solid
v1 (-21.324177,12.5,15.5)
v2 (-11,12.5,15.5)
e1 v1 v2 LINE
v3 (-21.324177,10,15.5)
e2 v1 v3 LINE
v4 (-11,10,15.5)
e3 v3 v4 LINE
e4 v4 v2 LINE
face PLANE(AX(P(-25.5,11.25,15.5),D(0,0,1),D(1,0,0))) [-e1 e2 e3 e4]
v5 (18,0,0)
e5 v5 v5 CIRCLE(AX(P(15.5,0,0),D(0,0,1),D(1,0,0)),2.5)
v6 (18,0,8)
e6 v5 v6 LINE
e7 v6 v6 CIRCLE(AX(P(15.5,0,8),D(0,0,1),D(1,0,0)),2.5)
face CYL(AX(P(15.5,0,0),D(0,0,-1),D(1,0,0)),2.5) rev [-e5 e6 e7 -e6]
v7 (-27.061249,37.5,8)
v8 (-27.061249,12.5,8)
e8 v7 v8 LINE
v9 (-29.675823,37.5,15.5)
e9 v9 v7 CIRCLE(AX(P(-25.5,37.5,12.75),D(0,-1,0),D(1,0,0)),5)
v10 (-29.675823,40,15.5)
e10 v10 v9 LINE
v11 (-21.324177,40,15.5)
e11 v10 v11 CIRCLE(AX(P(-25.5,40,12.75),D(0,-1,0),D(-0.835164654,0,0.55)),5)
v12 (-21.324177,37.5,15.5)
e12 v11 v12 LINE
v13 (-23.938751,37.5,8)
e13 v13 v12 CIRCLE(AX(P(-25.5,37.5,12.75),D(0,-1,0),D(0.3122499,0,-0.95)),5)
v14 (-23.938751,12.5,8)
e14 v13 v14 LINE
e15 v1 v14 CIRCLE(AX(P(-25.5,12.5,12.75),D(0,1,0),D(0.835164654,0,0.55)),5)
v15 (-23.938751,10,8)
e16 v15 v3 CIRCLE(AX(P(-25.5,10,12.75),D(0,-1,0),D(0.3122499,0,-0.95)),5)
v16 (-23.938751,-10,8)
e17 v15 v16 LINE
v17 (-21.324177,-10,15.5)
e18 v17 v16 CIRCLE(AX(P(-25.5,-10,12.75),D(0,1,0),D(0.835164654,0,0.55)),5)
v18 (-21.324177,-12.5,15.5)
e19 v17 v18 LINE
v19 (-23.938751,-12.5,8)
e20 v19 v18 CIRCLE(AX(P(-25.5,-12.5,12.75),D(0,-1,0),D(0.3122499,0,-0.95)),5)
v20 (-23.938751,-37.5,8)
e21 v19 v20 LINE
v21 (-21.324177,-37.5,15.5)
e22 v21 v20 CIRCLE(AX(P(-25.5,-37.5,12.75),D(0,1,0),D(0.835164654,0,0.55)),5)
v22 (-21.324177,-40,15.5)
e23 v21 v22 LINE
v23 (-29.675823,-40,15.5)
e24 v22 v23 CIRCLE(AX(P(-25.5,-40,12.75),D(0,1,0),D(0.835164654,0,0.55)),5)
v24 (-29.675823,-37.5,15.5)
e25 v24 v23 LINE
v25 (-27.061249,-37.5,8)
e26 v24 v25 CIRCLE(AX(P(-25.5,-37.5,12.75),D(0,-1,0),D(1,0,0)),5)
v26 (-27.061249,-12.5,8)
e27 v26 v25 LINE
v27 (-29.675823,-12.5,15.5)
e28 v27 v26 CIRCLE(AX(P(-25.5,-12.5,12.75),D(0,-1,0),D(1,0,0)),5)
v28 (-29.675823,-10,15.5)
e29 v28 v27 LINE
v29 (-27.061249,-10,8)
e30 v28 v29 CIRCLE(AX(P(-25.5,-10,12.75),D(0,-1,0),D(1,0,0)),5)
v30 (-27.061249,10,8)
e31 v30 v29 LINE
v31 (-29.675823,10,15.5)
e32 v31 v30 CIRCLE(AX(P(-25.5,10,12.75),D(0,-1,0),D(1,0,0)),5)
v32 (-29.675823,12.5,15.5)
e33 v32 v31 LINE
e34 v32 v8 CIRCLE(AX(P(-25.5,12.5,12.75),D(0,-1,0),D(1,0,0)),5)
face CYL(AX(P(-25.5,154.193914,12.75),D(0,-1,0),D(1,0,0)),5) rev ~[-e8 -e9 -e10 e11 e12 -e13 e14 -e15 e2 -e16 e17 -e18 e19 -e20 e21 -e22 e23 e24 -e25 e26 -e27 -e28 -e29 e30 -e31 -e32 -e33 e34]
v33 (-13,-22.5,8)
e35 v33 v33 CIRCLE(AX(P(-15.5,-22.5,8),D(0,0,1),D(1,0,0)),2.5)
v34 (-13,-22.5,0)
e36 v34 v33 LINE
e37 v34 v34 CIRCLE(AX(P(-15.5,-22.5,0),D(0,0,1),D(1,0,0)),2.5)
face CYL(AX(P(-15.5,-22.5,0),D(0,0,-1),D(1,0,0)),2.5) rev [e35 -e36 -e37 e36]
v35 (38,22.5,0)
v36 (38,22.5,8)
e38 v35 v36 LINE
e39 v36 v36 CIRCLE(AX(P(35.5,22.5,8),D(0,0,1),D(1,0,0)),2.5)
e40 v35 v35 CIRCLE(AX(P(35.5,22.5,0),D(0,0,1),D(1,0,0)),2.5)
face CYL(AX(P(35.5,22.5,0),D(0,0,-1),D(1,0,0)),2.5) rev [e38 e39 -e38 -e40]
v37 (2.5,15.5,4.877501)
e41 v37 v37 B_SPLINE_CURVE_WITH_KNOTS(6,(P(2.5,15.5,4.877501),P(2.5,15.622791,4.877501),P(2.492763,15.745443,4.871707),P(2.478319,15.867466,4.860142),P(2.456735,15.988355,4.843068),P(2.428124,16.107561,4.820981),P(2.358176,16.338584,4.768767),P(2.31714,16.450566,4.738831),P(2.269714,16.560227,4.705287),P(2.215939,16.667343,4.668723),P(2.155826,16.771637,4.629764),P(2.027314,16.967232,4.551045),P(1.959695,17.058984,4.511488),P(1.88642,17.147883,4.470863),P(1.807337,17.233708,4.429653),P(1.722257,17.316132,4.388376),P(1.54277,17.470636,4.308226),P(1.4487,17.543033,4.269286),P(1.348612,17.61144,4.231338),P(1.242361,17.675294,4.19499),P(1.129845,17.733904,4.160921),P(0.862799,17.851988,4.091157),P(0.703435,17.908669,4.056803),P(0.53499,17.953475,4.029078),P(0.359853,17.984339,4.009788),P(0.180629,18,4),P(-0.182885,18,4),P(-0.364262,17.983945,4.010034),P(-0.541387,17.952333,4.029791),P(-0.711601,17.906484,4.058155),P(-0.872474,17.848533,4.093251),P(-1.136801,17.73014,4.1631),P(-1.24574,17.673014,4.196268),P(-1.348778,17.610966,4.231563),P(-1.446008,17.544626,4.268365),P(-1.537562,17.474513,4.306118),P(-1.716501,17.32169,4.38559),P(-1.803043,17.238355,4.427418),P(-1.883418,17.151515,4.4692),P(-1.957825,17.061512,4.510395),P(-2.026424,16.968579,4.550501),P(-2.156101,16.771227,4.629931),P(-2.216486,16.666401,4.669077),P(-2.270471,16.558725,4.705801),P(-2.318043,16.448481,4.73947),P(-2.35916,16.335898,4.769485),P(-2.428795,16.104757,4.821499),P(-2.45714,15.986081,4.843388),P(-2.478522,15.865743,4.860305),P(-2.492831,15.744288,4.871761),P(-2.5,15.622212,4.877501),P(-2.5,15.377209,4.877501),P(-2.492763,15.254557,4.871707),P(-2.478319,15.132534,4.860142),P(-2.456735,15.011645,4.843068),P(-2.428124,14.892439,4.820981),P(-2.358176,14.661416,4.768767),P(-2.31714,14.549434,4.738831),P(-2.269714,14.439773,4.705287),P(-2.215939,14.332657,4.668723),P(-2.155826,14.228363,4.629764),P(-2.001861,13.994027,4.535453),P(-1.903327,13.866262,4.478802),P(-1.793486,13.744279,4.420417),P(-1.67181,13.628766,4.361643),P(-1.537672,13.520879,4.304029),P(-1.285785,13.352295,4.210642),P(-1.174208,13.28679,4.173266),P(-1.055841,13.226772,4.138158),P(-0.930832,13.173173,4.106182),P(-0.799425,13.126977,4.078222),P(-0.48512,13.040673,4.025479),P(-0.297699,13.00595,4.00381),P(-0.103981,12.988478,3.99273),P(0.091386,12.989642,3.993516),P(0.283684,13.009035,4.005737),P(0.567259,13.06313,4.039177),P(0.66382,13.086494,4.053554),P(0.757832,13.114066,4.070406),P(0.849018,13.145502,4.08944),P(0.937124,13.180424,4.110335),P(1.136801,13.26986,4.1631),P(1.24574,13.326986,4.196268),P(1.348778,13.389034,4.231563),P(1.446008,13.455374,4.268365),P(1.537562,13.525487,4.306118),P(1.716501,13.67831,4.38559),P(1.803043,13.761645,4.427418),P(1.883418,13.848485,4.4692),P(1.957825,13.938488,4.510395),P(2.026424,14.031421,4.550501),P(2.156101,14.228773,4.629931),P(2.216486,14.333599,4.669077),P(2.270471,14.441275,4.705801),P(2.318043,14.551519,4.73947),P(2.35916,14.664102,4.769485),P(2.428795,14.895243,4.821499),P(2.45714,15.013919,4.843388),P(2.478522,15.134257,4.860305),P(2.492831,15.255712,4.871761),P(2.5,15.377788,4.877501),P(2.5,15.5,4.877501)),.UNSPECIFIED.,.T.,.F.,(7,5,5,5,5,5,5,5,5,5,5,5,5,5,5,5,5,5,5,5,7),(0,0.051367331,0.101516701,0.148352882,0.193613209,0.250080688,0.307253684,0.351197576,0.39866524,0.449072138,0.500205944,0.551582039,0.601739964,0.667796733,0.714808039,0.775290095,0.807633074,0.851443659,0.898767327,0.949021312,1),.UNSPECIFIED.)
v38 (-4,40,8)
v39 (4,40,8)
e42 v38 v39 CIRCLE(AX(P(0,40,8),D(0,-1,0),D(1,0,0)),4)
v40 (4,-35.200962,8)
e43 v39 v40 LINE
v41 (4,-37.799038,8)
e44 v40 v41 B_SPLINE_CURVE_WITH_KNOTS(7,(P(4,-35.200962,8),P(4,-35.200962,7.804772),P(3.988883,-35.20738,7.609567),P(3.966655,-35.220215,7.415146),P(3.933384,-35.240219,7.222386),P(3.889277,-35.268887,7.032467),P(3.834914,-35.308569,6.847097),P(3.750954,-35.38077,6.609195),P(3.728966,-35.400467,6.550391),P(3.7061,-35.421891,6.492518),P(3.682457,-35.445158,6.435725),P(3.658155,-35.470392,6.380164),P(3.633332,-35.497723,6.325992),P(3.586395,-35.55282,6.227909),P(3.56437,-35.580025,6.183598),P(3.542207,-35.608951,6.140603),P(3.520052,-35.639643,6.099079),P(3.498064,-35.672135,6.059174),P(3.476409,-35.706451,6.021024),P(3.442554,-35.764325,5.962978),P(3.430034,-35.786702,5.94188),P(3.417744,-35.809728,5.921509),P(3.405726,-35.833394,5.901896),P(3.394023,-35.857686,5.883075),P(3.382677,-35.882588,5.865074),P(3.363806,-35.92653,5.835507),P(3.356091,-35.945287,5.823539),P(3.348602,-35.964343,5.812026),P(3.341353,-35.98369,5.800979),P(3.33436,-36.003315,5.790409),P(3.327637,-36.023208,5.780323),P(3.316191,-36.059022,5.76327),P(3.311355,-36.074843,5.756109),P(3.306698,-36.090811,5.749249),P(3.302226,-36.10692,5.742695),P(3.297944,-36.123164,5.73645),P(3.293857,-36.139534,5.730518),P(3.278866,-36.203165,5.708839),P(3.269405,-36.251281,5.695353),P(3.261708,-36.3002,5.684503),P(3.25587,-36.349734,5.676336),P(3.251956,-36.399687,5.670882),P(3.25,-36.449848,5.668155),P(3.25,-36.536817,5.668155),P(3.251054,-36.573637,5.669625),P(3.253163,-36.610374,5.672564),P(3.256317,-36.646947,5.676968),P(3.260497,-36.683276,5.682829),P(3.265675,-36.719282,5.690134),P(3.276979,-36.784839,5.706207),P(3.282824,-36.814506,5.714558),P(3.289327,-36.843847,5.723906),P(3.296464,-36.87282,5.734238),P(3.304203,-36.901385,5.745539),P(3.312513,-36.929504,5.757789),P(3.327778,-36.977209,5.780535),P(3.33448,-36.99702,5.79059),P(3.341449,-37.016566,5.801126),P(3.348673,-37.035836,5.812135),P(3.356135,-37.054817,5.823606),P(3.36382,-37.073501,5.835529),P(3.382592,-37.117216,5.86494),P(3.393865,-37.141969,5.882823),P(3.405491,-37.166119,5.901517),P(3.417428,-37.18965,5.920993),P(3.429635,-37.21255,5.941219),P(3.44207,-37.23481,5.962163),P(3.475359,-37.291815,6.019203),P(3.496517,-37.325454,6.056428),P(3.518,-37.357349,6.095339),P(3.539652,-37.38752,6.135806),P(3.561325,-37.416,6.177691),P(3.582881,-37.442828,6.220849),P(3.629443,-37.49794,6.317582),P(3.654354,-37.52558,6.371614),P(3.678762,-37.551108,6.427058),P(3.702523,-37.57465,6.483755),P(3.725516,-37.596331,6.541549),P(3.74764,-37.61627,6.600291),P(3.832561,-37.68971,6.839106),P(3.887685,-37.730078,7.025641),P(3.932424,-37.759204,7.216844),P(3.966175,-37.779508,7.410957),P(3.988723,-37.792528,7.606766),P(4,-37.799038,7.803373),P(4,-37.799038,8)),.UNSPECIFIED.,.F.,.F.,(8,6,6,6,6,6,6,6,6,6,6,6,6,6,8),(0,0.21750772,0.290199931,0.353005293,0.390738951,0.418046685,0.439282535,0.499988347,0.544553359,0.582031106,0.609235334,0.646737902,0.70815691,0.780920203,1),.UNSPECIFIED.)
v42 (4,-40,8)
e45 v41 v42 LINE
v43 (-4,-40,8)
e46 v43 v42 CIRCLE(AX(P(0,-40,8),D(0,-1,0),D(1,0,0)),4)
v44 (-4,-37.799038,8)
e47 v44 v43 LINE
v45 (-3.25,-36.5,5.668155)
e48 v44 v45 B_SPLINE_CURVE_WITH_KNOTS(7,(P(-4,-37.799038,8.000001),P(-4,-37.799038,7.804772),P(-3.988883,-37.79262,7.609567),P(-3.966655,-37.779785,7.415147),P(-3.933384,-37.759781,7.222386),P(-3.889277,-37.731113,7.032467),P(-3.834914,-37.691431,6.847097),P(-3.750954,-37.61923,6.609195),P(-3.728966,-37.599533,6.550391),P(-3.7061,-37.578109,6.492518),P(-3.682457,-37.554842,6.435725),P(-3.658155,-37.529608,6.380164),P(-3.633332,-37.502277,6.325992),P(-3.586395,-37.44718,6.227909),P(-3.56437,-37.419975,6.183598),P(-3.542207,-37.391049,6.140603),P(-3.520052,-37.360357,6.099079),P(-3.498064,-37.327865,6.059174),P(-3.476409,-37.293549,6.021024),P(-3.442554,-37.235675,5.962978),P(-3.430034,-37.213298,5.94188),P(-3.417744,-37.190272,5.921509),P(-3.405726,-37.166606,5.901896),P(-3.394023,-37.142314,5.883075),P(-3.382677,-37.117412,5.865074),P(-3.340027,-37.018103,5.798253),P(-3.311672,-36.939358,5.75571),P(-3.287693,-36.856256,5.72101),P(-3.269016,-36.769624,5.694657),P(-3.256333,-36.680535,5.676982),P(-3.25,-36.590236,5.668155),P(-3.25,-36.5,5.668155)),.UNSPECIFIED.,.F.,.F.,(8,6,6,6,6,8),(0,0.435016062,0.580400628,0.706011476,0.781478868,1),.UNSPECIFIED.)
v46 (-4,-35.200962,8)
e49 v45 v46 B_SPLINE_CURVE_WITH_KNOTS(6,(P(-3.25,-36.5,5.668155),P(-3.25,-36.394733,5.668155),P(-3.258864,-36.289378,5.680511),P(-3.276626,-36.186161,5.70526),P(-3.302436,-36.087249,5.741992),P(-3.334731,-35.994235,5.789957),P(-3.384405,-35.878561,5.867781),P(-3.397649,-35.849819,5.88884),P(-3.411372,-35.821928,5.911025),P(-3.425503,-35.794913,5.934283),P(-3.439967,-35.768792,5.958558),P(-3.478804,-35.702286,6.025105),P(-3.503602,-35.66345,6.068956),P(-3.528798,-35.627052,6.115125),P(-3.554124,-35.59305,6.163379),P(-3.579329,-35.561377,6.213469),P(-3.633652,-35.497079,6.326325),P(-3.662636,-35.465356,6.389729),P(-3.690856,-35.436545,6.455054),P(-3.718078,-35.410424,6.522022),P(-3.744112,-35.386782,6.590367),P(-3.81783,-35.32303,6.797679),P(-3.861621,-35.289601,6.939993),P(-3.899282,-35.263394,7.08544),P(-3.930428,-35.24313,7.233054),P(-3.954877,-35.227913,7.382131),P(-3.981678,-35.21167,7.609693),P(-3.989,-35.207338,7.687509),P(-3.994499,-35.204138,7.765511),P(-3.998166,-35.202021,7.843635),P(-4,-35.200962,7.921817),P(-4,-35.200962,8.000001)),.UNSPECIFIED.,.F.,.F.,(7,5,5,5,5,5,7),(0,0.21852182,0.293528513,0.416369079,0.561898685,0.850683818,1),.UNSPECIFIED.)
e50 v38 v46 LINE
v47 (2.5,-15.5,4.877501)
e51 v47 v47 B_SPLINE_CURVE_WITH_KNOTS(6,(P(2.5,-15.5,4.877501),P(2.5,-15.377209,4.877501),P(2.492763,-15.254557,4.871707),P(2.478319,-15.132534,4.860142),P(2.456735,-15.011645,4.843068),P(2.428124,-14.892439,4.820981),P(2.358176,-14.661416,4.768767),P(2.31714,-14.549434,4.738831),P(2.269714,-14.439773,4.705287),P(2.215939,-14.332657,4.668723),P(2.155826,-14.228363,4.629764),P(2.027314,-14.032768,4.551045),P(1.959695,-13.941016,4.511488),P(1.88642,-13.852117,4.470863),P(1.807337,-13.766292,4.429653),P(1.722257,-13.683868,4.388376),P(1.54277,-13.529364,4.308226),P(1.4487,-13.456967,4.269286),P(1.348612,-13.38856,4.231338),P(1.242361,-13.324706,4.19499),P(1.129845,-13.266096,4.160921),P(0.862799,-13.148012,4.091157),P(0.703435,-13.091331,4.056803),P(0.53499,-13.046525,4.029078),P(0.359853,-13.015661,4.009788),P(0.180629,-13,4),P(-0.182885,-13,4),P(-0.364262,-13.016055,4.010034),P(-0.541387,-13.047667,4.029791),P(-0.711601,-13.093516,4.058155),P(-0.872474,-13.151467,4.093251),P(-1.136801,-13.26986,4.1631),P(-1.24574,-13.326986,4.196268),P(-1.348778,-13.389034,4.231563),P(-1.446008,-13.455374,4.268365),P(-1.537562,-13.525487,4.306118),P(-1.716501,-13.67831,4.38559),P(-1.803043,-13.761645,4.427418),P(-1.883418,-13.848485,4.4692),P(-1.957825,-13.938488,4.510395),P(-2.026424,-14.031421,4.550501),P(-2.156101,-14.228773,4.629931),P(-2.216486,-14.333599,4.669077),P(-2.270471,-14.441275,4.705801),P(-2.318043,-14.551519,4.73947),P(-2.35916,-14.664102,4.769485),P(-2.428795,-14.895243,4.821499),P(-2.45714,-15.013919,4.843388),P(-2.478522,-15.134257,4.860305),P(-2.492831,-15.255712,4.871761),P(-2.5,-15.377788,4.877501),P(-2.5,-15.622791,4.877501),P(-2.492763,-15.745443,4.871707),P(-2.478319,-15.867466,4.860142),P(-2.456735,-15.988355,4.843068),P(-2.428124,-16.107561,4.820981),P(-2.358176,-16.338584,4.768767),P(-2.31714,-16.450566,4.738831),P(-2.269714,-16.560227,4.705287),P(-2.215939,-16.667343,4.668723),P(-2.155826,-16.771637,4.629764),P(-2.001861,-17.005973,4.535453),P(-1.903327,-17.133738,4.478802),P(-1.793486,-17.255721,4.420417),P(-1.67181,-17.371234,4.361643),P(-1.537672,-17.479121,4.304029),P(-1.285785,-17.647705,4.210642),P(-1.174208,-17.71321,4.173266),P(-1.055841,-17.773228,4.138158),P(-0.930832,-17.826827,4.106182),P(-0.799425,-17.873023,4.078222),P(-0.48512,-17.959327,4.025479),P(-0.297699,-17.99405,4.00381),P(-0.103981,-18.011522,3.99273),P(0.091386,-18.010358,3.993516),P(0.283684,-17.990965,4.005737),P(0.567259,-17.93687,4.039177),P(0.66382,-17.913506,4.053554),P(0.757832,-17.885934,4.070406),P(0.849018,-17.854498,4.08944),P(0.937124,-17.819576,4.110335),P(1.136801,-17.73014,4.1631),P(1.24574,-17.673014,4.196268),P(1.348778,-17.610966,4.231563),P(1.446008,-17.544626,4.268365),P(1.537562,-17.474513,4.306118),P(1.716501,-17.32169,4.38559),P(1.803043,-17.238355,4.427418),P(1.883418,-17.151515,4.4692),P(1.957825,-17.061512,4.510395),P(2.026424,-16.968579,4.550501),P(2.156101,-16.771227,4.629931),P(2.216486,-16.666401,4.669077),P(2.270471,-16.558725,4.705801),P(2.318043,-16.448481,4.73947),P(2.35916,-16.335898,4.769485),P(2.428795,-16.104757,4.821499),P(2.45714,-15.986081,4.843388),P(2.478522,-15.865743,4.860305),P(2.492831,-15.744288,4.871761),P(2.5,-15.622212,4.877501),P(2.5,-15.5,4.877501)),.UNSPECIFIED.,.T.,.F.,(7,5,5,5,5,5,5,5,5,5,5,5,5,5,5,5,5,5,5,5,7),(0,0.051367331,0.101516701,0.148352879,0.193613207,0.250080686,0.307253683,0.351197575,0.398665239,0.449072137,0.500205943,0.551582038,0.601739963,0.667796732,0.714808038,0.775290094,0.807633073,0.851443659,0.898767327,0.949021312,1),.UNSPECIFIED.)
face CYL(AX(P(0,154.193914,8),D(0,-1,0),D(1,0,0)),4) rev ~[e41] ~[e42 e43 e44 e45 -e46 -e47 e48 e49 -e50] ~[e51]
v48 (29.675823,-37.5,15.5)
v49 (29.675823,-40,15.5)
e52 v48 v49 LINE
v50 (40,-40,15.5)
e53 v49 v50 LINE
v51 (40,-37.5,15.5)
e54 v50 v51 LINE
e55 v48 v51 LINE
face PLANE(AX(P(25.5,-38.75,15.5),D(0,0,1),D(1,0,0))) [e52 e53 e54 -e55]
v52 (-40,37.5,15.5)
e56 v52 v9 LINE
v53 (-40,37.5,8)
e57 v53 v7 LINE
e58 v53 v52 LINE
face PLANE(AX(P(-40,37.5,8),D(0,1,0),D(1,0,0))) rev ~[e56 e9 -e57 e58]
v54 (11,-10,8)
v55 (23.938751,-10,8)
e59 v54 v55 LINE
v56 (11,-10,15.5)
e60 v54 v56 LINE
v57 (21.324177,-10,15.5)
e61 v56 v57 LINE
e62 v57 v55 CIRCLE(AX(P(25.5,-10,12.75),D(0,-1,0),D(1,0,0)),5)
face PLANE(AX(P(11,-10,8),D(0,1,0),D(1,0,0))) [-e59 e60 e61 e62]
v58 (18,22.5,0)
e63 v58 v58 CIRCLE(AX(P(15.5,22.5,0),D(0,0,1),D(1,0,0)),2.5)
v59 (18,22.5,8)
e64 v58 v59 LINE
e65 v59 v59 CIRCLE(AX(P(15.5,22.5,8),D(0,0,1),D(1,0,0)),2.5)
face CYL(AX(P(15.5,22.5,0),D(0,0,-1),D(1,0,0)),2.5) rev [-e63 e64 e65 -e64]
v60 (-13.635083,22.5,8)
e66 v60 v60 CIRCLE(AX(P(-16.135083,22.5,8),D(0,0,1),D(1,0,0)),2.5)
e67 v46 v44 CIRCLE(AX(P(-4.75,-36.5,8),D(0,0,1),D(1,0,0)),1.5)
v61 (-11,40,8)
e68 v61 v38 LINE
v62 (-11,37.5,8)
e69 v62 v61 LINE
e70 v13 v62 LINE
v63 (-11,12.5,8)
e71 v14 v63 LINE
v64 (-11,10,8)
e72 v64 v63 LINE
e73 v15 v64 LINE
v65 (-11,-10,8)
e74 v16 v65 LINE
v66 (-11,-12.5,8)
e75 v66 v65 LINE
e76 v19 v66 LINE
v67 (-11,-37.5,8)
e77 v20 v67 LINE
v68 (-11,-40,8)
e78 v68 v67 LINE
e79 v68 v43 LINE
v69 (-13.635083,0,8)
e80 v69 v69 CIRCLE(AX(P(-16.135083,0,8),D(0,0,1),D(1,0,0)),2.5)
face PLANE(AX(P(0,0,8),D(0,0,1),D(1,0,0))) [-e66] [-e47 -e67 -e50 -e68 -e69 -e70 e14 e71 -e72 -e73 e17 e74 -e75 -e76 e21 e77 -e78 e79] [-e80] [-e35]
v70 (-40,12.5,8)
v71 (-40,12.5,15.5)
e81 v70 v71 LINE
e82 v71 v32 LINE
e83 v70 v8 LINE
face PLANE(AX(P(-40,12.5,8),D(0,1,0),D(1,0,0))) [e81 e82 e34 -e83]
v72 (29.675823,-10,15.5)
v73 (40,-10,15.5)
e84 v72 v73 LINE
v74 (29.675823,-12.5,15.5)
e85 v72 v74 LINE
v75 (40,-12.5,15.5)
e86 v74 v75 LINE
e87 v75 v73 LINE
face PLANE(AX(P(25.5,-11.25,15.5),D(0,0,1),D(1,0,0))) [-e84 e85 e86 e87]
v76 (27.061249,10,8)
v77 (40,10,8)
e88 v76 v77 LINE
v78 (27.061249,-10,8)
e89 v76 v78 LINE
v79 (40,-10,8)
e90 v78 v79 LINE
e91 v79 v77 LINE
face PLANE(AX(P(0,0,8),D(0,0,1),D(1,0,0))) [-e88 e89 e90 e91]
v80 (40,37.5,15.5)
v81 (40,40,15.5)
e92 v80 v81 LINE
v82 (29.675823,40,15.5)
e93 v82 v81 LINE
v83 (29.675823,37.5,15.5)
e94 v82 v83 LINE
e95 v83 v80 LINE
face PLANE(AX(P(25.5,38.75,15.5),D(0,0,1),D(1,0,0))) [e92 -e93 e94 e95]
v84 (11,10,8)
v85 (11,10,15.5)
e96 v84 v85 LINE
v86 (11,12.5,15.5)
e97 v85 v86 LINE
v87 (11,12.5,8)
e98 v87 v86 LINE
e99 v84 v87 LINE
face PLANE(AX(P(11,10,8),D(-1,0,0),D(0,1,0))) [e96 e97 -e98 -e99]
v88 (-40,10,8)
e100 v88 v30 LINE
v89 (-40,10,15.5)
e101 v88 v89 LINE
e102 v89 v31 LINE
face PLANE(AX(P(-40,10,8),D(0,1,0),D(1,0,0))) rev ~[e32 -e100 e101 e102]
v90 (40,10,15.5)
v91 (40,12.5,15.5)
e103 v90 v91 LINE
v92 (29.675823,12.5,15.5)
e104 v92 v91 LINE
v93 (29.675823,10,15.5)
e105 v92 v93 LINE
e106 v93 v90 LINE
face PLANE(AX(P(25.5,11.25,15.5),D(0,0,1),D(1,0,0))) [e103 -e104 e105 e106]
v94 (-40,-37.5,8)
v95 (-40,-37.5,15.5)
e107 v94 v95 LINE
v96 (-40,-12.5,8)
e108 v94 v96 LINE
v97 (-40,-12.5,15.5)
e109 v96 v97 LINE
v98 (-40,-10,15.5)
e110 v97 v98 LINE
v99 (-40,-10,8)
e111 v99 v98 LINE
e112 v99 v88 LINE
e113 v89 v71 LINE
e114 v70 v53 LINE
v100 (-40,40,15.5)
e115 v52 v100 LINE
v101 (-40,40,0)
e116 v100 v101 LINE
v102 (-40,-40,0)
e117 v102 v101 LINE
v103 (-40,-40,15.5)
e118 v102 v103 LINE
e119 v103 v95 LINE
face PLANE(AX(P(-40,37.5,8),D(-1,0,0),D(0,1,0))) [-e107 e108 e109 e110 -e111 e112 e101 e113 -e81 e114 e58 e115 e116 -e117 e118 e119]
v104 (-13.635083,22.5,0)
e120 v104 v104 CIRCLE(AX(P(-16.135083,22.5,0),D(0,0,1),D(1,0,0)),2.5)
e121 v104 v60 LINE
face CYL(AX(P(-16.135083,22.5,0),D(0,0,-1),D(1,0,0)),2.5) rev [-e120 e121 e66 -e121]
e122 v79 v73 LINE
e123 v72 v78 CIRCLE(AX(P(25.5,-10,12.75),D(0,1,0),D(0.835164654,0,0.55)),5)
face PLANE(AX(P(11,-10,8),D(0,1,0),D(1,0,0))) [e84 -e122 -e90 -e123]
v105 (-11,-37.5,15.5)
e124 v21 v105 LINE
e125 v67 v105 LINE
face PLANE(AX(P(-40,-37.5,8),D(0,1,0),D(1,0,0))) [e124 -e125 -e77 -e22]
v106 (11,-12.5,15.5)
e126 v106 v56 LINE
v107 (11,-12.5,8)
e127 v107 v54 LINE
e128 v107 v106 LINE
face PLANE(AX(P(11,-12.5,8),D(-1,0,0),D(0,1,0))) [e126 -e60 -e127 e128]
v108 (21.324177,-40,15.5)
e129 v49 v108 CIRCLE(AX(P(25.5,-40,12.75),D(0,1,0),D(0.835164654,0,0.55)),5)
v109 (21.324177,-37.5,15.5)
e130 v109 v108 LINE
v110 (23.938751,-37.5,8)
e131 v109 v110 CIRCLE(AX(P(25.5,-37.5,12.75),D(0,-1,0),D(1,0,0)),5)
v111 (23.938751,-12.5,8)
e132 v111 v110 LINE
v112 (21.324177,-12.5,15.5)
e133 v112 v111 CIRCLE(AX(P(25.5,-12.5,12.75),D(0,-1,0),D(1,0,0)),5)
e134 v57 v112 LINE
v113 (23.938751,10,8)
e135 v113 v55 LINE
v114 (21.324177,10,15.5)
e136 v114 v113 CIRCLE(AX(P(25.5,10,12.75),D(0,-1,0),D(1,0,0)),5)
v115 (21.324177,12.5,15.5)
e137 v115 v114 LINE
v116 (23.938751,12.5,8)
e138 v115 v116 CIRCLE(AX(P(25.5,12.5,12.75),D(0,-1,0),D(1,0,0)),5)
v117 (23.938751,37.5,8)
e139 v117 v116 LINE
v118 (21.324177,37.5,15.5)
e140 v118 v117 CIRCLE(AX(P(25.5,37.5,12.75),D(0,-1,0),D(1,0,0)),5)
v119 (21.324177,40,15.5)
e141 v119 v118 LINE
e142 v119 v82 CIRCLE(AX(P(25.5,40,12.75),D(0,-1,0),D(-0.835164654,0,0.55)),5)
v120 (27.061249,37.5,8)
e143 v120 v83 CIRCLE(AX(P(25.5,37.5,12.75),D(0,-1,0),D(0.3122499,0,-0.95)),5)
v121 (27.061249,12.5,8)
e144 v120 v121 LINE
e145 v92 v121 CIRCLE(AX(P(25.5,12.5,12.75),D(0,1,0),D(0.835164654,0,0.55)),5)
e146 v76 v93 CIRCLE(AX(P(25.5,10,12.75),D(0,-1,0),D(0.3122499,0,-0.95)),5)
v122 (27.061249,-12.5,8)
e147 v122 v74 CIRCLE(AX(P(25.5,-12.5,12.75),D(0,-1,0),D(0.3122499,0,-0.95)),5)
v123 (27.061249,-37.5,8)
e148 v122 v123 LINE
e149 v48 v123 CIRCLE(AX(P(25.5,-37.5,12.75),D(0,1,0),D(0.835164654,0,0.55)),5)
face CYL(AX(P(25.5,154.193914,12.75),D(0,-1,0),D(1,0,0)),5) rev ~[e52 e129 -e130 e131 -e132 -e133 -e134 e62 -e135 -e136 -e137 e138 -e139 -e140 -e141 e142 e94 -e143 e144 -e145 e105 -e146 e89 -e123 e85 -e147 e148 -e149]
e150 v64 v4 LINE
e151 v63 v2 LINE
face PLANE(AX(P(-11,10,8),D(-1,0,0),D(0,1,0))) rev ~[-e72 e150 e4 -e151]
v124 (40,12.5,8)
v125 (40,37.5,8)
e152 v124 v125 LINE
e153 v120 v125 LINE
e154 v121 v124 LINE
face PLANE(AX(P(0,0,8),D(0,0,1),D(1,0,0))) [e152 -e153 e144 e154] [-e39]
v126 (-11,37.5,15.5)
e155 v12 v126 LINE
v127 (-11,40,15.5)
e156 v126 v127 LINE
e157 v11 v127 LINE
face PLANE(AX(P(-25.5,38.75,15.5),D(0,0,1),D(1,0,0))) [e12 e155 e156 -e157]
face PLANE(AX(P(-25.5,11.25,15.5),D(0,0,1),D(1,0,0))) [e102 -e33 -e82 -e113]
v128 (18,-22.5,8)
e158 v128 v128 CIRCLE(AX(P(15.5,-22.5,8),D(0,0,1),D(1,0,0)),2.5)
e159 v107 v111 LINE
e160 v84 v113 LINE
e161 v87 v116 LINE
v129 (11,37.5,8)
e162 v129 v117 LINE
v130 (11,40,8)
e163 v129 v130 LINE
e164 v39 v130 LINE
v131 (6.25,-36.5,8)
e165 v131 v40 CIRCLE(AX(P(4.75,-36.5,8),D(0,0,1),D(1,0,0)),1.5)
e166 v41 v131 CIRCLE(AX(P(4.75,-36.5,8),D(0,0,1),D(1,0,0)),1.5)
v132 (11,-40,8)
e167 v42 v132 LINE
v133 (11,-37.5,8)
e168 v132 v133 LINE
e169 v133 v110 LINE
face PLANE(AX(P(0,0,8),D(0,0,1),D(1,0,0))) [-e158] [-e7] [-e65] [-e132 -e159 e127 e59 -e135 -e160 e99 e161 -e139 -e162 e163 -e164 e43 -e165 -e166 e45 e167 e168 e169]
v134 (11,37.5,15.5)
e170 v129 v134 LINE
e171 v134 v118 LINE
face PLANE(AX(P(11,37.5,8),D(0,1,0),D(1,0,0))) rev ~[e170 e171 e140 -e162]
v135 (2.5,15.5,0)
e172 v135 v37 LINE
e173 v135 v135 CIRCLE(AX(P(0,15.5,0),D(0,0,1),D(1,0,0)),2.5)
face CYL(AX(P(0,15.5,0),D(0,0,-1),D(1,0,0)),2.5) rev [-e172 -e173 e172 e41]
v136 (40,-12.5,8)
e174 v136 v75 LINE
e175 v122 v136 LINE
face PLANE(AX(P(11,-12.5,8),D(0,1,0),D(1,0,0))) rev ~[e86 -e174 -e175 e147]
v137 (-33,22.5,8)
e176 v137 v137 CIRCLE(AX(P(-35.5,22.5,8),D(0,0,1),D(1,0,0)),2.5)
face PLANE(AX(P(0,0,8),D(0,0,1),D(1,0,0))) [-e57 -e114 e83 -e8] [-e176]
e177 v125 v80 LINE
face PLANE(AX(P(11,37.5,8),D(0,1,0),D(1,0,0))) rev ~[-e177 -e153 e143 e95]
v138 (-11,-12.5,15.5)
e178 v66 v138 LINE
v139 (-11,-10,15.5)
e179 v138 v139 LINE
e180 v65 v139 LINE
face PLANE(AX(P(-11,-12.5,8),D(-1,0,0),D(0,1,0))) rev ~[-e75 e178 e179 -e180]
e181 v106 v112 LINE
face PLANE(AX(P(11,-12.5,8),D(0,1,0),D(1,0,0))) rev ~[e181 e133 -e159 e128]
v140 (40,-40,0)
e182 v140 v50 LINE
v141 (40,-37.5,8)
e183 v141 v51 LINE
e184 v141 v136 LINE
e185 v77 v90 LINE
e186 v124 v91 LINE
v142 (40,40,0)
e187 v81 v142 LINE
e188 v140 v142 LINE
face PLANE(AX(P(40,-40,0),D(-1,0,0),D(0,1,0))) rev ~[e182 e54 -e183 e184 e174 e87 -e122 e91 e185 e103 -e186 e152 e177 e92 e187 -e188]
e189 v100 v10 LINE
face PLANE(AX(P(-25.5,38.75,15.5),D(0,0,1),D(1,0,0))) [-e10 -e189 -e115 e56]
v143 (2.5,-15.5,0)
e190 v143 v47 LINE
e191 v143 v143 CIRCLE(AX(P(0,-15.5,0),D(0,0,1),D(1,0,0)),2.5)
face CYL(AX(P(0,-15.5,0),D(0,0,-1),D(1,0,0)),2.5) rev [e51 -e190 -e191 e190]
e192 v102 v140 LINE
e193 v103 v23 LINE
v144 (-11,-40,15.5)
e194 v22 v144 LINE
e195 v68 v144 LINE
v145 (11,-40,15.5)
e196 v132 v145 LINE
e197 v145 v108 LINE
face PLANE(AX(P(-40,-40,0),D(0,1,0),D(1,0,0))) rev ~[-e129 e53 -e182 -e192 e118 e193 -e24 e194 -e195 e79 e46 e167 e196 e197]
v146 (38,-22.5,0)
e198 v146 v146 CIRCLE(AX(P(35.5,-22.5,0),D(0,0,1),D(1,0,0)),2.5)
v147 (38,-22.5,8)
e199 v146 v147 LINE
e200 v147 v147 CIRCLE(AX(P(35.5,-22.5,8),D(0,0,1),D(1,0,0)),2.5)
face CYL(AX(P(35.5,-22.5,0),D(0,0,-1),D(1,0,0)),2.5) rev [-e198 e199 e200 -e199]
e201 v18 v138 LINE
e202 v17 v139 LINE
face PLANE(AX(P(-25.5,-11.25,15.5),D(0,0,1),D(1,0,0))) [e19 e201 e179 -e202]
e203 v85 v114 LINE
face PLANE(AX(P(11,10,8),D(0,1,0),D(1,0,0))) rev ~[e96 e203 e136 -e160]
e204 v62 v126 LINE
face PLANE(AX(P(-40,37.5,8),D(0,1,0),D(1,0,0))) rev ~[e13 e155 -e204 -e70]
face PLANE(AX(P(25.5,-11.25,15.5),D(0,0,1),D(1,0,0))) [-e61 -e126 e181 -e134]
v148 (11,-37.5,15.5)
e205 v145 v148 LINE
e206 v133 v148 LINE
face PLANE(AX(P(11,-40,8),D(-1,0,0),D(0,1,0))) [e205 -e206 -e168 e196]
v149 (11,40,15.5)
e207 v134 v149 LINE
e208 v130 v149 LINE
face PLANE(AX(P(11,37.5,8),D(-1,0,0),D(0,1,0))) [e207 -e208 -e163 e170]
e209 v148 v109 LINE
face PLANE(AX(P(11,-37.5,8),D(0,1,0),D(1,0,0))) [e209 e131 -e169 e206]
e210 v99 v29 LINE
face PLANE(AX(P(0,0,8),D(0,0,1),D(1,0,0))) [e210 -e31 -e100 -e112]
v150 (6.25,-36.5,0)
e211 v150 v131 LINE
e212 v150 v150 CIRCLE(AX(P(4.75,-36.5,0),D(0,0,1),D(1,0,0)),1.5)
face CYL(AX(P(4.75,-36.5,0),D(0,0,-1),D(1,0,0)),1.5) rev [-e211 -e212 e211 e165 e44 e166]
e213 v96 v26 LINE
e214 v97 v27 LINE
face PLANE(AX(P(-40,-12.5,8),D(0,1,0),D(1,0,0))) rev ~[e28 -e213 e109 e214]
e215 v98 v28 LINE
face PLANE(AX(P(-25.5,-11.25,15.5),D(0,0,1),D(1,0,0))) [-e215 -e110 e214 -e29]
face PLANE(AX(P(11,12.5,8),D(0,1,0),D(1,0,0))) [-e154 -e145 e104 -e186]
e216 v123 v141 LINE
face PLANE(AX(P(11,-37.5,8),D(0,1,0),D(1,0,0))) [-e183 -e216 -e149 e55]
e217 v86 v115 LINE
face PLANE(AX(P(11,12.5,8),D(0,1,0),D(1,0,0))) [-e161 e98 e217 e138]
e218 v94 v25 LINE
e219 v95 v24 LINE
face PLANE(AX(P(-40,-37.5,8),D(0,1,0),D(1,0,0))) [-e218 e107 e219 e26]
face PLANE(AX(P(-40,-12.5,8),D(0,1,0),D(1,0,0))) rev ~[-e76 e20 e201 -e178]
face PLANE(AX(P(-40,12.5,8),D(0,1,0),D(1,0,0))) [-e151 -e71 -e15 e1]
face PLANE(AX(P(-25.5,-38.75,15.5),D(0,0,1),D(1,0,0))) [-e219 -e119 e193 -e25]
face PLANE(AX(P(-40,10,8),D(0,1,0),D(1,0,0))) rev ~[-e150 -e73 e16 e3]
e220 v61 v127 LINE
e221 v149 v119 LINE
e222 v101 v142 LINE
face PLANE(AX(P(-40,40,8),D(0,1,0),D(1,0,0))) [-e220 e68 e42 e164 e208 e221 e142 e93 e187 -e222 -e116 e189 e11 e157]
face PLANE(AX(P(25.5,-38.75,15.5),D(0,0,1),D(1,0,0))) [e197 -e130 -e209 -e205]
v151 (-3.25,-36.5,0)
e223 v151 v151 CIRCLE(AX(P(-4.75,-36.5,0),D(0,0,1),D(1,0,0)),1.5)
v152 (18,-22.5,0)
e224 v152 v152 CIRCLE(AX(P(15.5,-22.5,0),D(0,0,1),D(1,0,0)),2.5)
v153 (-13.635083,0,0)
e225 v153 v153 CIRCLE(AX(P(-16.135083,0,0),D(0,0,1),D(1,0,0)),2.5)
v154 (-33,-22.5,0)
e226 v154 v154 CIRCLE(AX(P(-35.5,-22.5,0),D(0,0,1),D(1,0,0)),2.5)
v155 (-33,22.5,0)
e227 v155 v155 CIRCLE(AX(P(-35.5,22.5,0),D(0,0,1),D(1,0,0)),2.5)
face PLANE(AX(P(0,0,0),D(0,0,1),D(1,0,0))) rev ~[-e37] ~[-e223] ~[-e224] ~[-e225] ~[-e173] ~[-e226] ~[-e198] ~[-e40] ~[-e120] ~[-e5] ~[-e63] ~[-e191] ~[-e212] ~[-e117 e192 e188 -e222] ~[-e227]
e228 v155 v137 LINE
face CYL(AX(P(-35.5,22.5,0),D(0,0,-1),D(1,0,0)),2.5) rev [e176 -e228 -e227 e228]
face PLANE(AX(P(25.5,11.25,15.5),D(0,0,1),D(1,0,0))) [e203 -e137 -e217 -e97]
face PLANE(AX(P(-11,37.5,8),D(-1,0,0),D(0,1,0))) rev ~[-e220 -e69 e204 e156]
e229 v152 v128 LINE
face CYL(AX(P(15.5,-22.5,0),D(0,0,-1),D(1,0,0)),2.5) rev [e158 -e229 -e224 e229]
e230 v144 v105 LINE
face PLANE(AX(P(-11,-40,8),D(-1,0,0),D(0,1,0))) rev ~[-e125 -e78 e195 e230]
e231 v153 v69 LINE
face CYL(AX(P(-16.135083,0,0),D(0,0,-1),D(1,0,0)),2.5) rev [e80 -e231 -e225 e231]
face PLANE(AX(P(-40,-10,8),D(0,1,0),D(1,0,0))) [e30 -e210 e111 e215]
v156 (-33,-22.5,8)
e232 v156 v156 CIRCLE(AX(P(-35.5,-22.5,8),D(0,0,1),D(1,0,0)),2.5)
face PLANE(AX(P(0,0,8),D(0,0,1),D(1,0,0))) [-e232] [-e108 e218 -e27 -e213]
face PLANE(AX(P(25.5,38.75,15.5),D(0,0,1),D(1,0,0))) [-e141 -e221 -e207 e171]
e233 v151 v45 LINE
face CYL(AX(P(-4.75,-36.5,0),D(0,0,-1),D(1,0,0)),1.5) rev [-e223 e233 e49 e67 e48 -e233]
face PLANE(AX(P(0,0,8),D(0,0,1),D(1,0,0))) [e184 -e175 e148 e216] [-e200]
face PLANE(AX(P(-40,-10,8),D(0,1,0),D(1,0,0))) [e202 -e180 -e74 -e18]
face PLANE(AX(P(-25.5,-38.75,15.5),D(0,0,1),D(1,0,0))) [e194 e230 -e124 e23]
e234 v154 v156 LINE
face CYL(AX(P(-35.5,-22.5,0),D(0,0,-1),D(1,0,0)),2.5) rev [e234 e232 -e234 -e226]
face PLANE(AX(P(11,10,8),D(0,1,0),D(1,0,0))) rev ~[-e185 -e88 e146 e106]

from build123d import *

# Parameters (mm, degrees)
F0_W     = 80
F0_H     = 80
F0_R     = 2.5
F0_R_2   = 1.5
F1_DEPTH = 8
F2_W     = 29
F2_H     = 2.5
F3_DEPTH = 7.5
F5_D     = 10
F7_D     = 8


with BuildPart() as f1:
    # F0 (on Top) → F1 (new body)
    with BuildSketch(Plane.XY):
        Rectangle(F0_W, F0_H)
        with Locations((-35.5, -22.5)):
            Circle(F0_R, mode=Mode.SUBTRACT)
        with Locations((-4.75, -36.5)):
            Circle(F0_R_2, mode=Mode.SUBTRACT)
        with Locations((-15.5, -22.5)):
            Circle(F0_R, mode=Mode.SUBTRACT)
        with Locations((4.75, -36.5)):
            Circle(F0_R_2, mode=Mode.SUBTRACT)
        with Locations((15.5, -22.5)):
            Circle(F0_R, mode=Mode.SUBTRACT)
        with Locations((35.5, -22.5)):
            Circle(F0_R, mode=Mode.SUBTRACT)
        with Locations((0, -15.5)):
            Circle(F0_R, mode=Mode.SUBTRACT)
        with Locations((-16.135083, 0)):
            Circle(F0_R, mode=Mode.SUBTRACT)
        with Locations((-35.5, 22.5)):
            Circle(F0_R, mode=Mode.SUBTRACT)
        with Locations((-16.135083, 22.5)):
            Circle(F0_R, mode=Mode.SUBTRACT)
        with Locations((15.5, 0)):
            Circle(F0_R, mode=Mode.SUBTRACT)
        with Locations((0, 15.5)):
            Circle(F0_R, mode=Mode.SUBTRACT)
        with Locations((15.5, 22.5)):
            Circle(F0_R, mode=Mode.SUBTRACT)
        with Locations((35.5, 22.5)):
            Circle(F0_R, mode=Mode.SUBTRACT)
    extrude(amount=F1_DEPTH)

    # F2 (on face) → F3 (join)
    with BuildSketch(Plane.XY.offset(8)):
        with Locations((-25.5, 38.75)):
            Rectangle(F2_W, F2_H)
        with Locations((25.5, 38.75)):
            Rectangle(F2_W, F2_H)
        with Locations((-25.5, -38.75)):
            Rectangle(F2_W, F2_H)
        with Locations((25.5, -38.75)):
            Rectangle(F2_W, F2_H)
        with Locations((-25.5, -11.25)):
            Rectangle(F2_W, F2_H)
        with Locations((25.5, -11.25)):
            Rectangle(F2_W, F2_H)
        with Locations((-25.5, 11.25)):
            Rectangle(F2_W, F2_H)
        with Locations((25.5, 11.25)):
            Rectangle(F2_W, F2_H)
    extrude(amount=F3_DEPTH)

    # F5 (through all)
    with Locations(Plane(origin=(0, 40, 0), x_dir=(-1, 0, 0), z_dir=(0, 1, 0))):
        with Locations((-25.5, 12.75), (25.5, 12.75)):
            Hole(F5_D / 2)

    # F7 (through all)
    with Locations(Plane(origin=(0, 40, 0), x_dir=(-1, 0, 0), z_dir=(0, 1, 0))):
        with Locations((0, 8)):
            Hole(F7_D / 2)


solid = f1.part
